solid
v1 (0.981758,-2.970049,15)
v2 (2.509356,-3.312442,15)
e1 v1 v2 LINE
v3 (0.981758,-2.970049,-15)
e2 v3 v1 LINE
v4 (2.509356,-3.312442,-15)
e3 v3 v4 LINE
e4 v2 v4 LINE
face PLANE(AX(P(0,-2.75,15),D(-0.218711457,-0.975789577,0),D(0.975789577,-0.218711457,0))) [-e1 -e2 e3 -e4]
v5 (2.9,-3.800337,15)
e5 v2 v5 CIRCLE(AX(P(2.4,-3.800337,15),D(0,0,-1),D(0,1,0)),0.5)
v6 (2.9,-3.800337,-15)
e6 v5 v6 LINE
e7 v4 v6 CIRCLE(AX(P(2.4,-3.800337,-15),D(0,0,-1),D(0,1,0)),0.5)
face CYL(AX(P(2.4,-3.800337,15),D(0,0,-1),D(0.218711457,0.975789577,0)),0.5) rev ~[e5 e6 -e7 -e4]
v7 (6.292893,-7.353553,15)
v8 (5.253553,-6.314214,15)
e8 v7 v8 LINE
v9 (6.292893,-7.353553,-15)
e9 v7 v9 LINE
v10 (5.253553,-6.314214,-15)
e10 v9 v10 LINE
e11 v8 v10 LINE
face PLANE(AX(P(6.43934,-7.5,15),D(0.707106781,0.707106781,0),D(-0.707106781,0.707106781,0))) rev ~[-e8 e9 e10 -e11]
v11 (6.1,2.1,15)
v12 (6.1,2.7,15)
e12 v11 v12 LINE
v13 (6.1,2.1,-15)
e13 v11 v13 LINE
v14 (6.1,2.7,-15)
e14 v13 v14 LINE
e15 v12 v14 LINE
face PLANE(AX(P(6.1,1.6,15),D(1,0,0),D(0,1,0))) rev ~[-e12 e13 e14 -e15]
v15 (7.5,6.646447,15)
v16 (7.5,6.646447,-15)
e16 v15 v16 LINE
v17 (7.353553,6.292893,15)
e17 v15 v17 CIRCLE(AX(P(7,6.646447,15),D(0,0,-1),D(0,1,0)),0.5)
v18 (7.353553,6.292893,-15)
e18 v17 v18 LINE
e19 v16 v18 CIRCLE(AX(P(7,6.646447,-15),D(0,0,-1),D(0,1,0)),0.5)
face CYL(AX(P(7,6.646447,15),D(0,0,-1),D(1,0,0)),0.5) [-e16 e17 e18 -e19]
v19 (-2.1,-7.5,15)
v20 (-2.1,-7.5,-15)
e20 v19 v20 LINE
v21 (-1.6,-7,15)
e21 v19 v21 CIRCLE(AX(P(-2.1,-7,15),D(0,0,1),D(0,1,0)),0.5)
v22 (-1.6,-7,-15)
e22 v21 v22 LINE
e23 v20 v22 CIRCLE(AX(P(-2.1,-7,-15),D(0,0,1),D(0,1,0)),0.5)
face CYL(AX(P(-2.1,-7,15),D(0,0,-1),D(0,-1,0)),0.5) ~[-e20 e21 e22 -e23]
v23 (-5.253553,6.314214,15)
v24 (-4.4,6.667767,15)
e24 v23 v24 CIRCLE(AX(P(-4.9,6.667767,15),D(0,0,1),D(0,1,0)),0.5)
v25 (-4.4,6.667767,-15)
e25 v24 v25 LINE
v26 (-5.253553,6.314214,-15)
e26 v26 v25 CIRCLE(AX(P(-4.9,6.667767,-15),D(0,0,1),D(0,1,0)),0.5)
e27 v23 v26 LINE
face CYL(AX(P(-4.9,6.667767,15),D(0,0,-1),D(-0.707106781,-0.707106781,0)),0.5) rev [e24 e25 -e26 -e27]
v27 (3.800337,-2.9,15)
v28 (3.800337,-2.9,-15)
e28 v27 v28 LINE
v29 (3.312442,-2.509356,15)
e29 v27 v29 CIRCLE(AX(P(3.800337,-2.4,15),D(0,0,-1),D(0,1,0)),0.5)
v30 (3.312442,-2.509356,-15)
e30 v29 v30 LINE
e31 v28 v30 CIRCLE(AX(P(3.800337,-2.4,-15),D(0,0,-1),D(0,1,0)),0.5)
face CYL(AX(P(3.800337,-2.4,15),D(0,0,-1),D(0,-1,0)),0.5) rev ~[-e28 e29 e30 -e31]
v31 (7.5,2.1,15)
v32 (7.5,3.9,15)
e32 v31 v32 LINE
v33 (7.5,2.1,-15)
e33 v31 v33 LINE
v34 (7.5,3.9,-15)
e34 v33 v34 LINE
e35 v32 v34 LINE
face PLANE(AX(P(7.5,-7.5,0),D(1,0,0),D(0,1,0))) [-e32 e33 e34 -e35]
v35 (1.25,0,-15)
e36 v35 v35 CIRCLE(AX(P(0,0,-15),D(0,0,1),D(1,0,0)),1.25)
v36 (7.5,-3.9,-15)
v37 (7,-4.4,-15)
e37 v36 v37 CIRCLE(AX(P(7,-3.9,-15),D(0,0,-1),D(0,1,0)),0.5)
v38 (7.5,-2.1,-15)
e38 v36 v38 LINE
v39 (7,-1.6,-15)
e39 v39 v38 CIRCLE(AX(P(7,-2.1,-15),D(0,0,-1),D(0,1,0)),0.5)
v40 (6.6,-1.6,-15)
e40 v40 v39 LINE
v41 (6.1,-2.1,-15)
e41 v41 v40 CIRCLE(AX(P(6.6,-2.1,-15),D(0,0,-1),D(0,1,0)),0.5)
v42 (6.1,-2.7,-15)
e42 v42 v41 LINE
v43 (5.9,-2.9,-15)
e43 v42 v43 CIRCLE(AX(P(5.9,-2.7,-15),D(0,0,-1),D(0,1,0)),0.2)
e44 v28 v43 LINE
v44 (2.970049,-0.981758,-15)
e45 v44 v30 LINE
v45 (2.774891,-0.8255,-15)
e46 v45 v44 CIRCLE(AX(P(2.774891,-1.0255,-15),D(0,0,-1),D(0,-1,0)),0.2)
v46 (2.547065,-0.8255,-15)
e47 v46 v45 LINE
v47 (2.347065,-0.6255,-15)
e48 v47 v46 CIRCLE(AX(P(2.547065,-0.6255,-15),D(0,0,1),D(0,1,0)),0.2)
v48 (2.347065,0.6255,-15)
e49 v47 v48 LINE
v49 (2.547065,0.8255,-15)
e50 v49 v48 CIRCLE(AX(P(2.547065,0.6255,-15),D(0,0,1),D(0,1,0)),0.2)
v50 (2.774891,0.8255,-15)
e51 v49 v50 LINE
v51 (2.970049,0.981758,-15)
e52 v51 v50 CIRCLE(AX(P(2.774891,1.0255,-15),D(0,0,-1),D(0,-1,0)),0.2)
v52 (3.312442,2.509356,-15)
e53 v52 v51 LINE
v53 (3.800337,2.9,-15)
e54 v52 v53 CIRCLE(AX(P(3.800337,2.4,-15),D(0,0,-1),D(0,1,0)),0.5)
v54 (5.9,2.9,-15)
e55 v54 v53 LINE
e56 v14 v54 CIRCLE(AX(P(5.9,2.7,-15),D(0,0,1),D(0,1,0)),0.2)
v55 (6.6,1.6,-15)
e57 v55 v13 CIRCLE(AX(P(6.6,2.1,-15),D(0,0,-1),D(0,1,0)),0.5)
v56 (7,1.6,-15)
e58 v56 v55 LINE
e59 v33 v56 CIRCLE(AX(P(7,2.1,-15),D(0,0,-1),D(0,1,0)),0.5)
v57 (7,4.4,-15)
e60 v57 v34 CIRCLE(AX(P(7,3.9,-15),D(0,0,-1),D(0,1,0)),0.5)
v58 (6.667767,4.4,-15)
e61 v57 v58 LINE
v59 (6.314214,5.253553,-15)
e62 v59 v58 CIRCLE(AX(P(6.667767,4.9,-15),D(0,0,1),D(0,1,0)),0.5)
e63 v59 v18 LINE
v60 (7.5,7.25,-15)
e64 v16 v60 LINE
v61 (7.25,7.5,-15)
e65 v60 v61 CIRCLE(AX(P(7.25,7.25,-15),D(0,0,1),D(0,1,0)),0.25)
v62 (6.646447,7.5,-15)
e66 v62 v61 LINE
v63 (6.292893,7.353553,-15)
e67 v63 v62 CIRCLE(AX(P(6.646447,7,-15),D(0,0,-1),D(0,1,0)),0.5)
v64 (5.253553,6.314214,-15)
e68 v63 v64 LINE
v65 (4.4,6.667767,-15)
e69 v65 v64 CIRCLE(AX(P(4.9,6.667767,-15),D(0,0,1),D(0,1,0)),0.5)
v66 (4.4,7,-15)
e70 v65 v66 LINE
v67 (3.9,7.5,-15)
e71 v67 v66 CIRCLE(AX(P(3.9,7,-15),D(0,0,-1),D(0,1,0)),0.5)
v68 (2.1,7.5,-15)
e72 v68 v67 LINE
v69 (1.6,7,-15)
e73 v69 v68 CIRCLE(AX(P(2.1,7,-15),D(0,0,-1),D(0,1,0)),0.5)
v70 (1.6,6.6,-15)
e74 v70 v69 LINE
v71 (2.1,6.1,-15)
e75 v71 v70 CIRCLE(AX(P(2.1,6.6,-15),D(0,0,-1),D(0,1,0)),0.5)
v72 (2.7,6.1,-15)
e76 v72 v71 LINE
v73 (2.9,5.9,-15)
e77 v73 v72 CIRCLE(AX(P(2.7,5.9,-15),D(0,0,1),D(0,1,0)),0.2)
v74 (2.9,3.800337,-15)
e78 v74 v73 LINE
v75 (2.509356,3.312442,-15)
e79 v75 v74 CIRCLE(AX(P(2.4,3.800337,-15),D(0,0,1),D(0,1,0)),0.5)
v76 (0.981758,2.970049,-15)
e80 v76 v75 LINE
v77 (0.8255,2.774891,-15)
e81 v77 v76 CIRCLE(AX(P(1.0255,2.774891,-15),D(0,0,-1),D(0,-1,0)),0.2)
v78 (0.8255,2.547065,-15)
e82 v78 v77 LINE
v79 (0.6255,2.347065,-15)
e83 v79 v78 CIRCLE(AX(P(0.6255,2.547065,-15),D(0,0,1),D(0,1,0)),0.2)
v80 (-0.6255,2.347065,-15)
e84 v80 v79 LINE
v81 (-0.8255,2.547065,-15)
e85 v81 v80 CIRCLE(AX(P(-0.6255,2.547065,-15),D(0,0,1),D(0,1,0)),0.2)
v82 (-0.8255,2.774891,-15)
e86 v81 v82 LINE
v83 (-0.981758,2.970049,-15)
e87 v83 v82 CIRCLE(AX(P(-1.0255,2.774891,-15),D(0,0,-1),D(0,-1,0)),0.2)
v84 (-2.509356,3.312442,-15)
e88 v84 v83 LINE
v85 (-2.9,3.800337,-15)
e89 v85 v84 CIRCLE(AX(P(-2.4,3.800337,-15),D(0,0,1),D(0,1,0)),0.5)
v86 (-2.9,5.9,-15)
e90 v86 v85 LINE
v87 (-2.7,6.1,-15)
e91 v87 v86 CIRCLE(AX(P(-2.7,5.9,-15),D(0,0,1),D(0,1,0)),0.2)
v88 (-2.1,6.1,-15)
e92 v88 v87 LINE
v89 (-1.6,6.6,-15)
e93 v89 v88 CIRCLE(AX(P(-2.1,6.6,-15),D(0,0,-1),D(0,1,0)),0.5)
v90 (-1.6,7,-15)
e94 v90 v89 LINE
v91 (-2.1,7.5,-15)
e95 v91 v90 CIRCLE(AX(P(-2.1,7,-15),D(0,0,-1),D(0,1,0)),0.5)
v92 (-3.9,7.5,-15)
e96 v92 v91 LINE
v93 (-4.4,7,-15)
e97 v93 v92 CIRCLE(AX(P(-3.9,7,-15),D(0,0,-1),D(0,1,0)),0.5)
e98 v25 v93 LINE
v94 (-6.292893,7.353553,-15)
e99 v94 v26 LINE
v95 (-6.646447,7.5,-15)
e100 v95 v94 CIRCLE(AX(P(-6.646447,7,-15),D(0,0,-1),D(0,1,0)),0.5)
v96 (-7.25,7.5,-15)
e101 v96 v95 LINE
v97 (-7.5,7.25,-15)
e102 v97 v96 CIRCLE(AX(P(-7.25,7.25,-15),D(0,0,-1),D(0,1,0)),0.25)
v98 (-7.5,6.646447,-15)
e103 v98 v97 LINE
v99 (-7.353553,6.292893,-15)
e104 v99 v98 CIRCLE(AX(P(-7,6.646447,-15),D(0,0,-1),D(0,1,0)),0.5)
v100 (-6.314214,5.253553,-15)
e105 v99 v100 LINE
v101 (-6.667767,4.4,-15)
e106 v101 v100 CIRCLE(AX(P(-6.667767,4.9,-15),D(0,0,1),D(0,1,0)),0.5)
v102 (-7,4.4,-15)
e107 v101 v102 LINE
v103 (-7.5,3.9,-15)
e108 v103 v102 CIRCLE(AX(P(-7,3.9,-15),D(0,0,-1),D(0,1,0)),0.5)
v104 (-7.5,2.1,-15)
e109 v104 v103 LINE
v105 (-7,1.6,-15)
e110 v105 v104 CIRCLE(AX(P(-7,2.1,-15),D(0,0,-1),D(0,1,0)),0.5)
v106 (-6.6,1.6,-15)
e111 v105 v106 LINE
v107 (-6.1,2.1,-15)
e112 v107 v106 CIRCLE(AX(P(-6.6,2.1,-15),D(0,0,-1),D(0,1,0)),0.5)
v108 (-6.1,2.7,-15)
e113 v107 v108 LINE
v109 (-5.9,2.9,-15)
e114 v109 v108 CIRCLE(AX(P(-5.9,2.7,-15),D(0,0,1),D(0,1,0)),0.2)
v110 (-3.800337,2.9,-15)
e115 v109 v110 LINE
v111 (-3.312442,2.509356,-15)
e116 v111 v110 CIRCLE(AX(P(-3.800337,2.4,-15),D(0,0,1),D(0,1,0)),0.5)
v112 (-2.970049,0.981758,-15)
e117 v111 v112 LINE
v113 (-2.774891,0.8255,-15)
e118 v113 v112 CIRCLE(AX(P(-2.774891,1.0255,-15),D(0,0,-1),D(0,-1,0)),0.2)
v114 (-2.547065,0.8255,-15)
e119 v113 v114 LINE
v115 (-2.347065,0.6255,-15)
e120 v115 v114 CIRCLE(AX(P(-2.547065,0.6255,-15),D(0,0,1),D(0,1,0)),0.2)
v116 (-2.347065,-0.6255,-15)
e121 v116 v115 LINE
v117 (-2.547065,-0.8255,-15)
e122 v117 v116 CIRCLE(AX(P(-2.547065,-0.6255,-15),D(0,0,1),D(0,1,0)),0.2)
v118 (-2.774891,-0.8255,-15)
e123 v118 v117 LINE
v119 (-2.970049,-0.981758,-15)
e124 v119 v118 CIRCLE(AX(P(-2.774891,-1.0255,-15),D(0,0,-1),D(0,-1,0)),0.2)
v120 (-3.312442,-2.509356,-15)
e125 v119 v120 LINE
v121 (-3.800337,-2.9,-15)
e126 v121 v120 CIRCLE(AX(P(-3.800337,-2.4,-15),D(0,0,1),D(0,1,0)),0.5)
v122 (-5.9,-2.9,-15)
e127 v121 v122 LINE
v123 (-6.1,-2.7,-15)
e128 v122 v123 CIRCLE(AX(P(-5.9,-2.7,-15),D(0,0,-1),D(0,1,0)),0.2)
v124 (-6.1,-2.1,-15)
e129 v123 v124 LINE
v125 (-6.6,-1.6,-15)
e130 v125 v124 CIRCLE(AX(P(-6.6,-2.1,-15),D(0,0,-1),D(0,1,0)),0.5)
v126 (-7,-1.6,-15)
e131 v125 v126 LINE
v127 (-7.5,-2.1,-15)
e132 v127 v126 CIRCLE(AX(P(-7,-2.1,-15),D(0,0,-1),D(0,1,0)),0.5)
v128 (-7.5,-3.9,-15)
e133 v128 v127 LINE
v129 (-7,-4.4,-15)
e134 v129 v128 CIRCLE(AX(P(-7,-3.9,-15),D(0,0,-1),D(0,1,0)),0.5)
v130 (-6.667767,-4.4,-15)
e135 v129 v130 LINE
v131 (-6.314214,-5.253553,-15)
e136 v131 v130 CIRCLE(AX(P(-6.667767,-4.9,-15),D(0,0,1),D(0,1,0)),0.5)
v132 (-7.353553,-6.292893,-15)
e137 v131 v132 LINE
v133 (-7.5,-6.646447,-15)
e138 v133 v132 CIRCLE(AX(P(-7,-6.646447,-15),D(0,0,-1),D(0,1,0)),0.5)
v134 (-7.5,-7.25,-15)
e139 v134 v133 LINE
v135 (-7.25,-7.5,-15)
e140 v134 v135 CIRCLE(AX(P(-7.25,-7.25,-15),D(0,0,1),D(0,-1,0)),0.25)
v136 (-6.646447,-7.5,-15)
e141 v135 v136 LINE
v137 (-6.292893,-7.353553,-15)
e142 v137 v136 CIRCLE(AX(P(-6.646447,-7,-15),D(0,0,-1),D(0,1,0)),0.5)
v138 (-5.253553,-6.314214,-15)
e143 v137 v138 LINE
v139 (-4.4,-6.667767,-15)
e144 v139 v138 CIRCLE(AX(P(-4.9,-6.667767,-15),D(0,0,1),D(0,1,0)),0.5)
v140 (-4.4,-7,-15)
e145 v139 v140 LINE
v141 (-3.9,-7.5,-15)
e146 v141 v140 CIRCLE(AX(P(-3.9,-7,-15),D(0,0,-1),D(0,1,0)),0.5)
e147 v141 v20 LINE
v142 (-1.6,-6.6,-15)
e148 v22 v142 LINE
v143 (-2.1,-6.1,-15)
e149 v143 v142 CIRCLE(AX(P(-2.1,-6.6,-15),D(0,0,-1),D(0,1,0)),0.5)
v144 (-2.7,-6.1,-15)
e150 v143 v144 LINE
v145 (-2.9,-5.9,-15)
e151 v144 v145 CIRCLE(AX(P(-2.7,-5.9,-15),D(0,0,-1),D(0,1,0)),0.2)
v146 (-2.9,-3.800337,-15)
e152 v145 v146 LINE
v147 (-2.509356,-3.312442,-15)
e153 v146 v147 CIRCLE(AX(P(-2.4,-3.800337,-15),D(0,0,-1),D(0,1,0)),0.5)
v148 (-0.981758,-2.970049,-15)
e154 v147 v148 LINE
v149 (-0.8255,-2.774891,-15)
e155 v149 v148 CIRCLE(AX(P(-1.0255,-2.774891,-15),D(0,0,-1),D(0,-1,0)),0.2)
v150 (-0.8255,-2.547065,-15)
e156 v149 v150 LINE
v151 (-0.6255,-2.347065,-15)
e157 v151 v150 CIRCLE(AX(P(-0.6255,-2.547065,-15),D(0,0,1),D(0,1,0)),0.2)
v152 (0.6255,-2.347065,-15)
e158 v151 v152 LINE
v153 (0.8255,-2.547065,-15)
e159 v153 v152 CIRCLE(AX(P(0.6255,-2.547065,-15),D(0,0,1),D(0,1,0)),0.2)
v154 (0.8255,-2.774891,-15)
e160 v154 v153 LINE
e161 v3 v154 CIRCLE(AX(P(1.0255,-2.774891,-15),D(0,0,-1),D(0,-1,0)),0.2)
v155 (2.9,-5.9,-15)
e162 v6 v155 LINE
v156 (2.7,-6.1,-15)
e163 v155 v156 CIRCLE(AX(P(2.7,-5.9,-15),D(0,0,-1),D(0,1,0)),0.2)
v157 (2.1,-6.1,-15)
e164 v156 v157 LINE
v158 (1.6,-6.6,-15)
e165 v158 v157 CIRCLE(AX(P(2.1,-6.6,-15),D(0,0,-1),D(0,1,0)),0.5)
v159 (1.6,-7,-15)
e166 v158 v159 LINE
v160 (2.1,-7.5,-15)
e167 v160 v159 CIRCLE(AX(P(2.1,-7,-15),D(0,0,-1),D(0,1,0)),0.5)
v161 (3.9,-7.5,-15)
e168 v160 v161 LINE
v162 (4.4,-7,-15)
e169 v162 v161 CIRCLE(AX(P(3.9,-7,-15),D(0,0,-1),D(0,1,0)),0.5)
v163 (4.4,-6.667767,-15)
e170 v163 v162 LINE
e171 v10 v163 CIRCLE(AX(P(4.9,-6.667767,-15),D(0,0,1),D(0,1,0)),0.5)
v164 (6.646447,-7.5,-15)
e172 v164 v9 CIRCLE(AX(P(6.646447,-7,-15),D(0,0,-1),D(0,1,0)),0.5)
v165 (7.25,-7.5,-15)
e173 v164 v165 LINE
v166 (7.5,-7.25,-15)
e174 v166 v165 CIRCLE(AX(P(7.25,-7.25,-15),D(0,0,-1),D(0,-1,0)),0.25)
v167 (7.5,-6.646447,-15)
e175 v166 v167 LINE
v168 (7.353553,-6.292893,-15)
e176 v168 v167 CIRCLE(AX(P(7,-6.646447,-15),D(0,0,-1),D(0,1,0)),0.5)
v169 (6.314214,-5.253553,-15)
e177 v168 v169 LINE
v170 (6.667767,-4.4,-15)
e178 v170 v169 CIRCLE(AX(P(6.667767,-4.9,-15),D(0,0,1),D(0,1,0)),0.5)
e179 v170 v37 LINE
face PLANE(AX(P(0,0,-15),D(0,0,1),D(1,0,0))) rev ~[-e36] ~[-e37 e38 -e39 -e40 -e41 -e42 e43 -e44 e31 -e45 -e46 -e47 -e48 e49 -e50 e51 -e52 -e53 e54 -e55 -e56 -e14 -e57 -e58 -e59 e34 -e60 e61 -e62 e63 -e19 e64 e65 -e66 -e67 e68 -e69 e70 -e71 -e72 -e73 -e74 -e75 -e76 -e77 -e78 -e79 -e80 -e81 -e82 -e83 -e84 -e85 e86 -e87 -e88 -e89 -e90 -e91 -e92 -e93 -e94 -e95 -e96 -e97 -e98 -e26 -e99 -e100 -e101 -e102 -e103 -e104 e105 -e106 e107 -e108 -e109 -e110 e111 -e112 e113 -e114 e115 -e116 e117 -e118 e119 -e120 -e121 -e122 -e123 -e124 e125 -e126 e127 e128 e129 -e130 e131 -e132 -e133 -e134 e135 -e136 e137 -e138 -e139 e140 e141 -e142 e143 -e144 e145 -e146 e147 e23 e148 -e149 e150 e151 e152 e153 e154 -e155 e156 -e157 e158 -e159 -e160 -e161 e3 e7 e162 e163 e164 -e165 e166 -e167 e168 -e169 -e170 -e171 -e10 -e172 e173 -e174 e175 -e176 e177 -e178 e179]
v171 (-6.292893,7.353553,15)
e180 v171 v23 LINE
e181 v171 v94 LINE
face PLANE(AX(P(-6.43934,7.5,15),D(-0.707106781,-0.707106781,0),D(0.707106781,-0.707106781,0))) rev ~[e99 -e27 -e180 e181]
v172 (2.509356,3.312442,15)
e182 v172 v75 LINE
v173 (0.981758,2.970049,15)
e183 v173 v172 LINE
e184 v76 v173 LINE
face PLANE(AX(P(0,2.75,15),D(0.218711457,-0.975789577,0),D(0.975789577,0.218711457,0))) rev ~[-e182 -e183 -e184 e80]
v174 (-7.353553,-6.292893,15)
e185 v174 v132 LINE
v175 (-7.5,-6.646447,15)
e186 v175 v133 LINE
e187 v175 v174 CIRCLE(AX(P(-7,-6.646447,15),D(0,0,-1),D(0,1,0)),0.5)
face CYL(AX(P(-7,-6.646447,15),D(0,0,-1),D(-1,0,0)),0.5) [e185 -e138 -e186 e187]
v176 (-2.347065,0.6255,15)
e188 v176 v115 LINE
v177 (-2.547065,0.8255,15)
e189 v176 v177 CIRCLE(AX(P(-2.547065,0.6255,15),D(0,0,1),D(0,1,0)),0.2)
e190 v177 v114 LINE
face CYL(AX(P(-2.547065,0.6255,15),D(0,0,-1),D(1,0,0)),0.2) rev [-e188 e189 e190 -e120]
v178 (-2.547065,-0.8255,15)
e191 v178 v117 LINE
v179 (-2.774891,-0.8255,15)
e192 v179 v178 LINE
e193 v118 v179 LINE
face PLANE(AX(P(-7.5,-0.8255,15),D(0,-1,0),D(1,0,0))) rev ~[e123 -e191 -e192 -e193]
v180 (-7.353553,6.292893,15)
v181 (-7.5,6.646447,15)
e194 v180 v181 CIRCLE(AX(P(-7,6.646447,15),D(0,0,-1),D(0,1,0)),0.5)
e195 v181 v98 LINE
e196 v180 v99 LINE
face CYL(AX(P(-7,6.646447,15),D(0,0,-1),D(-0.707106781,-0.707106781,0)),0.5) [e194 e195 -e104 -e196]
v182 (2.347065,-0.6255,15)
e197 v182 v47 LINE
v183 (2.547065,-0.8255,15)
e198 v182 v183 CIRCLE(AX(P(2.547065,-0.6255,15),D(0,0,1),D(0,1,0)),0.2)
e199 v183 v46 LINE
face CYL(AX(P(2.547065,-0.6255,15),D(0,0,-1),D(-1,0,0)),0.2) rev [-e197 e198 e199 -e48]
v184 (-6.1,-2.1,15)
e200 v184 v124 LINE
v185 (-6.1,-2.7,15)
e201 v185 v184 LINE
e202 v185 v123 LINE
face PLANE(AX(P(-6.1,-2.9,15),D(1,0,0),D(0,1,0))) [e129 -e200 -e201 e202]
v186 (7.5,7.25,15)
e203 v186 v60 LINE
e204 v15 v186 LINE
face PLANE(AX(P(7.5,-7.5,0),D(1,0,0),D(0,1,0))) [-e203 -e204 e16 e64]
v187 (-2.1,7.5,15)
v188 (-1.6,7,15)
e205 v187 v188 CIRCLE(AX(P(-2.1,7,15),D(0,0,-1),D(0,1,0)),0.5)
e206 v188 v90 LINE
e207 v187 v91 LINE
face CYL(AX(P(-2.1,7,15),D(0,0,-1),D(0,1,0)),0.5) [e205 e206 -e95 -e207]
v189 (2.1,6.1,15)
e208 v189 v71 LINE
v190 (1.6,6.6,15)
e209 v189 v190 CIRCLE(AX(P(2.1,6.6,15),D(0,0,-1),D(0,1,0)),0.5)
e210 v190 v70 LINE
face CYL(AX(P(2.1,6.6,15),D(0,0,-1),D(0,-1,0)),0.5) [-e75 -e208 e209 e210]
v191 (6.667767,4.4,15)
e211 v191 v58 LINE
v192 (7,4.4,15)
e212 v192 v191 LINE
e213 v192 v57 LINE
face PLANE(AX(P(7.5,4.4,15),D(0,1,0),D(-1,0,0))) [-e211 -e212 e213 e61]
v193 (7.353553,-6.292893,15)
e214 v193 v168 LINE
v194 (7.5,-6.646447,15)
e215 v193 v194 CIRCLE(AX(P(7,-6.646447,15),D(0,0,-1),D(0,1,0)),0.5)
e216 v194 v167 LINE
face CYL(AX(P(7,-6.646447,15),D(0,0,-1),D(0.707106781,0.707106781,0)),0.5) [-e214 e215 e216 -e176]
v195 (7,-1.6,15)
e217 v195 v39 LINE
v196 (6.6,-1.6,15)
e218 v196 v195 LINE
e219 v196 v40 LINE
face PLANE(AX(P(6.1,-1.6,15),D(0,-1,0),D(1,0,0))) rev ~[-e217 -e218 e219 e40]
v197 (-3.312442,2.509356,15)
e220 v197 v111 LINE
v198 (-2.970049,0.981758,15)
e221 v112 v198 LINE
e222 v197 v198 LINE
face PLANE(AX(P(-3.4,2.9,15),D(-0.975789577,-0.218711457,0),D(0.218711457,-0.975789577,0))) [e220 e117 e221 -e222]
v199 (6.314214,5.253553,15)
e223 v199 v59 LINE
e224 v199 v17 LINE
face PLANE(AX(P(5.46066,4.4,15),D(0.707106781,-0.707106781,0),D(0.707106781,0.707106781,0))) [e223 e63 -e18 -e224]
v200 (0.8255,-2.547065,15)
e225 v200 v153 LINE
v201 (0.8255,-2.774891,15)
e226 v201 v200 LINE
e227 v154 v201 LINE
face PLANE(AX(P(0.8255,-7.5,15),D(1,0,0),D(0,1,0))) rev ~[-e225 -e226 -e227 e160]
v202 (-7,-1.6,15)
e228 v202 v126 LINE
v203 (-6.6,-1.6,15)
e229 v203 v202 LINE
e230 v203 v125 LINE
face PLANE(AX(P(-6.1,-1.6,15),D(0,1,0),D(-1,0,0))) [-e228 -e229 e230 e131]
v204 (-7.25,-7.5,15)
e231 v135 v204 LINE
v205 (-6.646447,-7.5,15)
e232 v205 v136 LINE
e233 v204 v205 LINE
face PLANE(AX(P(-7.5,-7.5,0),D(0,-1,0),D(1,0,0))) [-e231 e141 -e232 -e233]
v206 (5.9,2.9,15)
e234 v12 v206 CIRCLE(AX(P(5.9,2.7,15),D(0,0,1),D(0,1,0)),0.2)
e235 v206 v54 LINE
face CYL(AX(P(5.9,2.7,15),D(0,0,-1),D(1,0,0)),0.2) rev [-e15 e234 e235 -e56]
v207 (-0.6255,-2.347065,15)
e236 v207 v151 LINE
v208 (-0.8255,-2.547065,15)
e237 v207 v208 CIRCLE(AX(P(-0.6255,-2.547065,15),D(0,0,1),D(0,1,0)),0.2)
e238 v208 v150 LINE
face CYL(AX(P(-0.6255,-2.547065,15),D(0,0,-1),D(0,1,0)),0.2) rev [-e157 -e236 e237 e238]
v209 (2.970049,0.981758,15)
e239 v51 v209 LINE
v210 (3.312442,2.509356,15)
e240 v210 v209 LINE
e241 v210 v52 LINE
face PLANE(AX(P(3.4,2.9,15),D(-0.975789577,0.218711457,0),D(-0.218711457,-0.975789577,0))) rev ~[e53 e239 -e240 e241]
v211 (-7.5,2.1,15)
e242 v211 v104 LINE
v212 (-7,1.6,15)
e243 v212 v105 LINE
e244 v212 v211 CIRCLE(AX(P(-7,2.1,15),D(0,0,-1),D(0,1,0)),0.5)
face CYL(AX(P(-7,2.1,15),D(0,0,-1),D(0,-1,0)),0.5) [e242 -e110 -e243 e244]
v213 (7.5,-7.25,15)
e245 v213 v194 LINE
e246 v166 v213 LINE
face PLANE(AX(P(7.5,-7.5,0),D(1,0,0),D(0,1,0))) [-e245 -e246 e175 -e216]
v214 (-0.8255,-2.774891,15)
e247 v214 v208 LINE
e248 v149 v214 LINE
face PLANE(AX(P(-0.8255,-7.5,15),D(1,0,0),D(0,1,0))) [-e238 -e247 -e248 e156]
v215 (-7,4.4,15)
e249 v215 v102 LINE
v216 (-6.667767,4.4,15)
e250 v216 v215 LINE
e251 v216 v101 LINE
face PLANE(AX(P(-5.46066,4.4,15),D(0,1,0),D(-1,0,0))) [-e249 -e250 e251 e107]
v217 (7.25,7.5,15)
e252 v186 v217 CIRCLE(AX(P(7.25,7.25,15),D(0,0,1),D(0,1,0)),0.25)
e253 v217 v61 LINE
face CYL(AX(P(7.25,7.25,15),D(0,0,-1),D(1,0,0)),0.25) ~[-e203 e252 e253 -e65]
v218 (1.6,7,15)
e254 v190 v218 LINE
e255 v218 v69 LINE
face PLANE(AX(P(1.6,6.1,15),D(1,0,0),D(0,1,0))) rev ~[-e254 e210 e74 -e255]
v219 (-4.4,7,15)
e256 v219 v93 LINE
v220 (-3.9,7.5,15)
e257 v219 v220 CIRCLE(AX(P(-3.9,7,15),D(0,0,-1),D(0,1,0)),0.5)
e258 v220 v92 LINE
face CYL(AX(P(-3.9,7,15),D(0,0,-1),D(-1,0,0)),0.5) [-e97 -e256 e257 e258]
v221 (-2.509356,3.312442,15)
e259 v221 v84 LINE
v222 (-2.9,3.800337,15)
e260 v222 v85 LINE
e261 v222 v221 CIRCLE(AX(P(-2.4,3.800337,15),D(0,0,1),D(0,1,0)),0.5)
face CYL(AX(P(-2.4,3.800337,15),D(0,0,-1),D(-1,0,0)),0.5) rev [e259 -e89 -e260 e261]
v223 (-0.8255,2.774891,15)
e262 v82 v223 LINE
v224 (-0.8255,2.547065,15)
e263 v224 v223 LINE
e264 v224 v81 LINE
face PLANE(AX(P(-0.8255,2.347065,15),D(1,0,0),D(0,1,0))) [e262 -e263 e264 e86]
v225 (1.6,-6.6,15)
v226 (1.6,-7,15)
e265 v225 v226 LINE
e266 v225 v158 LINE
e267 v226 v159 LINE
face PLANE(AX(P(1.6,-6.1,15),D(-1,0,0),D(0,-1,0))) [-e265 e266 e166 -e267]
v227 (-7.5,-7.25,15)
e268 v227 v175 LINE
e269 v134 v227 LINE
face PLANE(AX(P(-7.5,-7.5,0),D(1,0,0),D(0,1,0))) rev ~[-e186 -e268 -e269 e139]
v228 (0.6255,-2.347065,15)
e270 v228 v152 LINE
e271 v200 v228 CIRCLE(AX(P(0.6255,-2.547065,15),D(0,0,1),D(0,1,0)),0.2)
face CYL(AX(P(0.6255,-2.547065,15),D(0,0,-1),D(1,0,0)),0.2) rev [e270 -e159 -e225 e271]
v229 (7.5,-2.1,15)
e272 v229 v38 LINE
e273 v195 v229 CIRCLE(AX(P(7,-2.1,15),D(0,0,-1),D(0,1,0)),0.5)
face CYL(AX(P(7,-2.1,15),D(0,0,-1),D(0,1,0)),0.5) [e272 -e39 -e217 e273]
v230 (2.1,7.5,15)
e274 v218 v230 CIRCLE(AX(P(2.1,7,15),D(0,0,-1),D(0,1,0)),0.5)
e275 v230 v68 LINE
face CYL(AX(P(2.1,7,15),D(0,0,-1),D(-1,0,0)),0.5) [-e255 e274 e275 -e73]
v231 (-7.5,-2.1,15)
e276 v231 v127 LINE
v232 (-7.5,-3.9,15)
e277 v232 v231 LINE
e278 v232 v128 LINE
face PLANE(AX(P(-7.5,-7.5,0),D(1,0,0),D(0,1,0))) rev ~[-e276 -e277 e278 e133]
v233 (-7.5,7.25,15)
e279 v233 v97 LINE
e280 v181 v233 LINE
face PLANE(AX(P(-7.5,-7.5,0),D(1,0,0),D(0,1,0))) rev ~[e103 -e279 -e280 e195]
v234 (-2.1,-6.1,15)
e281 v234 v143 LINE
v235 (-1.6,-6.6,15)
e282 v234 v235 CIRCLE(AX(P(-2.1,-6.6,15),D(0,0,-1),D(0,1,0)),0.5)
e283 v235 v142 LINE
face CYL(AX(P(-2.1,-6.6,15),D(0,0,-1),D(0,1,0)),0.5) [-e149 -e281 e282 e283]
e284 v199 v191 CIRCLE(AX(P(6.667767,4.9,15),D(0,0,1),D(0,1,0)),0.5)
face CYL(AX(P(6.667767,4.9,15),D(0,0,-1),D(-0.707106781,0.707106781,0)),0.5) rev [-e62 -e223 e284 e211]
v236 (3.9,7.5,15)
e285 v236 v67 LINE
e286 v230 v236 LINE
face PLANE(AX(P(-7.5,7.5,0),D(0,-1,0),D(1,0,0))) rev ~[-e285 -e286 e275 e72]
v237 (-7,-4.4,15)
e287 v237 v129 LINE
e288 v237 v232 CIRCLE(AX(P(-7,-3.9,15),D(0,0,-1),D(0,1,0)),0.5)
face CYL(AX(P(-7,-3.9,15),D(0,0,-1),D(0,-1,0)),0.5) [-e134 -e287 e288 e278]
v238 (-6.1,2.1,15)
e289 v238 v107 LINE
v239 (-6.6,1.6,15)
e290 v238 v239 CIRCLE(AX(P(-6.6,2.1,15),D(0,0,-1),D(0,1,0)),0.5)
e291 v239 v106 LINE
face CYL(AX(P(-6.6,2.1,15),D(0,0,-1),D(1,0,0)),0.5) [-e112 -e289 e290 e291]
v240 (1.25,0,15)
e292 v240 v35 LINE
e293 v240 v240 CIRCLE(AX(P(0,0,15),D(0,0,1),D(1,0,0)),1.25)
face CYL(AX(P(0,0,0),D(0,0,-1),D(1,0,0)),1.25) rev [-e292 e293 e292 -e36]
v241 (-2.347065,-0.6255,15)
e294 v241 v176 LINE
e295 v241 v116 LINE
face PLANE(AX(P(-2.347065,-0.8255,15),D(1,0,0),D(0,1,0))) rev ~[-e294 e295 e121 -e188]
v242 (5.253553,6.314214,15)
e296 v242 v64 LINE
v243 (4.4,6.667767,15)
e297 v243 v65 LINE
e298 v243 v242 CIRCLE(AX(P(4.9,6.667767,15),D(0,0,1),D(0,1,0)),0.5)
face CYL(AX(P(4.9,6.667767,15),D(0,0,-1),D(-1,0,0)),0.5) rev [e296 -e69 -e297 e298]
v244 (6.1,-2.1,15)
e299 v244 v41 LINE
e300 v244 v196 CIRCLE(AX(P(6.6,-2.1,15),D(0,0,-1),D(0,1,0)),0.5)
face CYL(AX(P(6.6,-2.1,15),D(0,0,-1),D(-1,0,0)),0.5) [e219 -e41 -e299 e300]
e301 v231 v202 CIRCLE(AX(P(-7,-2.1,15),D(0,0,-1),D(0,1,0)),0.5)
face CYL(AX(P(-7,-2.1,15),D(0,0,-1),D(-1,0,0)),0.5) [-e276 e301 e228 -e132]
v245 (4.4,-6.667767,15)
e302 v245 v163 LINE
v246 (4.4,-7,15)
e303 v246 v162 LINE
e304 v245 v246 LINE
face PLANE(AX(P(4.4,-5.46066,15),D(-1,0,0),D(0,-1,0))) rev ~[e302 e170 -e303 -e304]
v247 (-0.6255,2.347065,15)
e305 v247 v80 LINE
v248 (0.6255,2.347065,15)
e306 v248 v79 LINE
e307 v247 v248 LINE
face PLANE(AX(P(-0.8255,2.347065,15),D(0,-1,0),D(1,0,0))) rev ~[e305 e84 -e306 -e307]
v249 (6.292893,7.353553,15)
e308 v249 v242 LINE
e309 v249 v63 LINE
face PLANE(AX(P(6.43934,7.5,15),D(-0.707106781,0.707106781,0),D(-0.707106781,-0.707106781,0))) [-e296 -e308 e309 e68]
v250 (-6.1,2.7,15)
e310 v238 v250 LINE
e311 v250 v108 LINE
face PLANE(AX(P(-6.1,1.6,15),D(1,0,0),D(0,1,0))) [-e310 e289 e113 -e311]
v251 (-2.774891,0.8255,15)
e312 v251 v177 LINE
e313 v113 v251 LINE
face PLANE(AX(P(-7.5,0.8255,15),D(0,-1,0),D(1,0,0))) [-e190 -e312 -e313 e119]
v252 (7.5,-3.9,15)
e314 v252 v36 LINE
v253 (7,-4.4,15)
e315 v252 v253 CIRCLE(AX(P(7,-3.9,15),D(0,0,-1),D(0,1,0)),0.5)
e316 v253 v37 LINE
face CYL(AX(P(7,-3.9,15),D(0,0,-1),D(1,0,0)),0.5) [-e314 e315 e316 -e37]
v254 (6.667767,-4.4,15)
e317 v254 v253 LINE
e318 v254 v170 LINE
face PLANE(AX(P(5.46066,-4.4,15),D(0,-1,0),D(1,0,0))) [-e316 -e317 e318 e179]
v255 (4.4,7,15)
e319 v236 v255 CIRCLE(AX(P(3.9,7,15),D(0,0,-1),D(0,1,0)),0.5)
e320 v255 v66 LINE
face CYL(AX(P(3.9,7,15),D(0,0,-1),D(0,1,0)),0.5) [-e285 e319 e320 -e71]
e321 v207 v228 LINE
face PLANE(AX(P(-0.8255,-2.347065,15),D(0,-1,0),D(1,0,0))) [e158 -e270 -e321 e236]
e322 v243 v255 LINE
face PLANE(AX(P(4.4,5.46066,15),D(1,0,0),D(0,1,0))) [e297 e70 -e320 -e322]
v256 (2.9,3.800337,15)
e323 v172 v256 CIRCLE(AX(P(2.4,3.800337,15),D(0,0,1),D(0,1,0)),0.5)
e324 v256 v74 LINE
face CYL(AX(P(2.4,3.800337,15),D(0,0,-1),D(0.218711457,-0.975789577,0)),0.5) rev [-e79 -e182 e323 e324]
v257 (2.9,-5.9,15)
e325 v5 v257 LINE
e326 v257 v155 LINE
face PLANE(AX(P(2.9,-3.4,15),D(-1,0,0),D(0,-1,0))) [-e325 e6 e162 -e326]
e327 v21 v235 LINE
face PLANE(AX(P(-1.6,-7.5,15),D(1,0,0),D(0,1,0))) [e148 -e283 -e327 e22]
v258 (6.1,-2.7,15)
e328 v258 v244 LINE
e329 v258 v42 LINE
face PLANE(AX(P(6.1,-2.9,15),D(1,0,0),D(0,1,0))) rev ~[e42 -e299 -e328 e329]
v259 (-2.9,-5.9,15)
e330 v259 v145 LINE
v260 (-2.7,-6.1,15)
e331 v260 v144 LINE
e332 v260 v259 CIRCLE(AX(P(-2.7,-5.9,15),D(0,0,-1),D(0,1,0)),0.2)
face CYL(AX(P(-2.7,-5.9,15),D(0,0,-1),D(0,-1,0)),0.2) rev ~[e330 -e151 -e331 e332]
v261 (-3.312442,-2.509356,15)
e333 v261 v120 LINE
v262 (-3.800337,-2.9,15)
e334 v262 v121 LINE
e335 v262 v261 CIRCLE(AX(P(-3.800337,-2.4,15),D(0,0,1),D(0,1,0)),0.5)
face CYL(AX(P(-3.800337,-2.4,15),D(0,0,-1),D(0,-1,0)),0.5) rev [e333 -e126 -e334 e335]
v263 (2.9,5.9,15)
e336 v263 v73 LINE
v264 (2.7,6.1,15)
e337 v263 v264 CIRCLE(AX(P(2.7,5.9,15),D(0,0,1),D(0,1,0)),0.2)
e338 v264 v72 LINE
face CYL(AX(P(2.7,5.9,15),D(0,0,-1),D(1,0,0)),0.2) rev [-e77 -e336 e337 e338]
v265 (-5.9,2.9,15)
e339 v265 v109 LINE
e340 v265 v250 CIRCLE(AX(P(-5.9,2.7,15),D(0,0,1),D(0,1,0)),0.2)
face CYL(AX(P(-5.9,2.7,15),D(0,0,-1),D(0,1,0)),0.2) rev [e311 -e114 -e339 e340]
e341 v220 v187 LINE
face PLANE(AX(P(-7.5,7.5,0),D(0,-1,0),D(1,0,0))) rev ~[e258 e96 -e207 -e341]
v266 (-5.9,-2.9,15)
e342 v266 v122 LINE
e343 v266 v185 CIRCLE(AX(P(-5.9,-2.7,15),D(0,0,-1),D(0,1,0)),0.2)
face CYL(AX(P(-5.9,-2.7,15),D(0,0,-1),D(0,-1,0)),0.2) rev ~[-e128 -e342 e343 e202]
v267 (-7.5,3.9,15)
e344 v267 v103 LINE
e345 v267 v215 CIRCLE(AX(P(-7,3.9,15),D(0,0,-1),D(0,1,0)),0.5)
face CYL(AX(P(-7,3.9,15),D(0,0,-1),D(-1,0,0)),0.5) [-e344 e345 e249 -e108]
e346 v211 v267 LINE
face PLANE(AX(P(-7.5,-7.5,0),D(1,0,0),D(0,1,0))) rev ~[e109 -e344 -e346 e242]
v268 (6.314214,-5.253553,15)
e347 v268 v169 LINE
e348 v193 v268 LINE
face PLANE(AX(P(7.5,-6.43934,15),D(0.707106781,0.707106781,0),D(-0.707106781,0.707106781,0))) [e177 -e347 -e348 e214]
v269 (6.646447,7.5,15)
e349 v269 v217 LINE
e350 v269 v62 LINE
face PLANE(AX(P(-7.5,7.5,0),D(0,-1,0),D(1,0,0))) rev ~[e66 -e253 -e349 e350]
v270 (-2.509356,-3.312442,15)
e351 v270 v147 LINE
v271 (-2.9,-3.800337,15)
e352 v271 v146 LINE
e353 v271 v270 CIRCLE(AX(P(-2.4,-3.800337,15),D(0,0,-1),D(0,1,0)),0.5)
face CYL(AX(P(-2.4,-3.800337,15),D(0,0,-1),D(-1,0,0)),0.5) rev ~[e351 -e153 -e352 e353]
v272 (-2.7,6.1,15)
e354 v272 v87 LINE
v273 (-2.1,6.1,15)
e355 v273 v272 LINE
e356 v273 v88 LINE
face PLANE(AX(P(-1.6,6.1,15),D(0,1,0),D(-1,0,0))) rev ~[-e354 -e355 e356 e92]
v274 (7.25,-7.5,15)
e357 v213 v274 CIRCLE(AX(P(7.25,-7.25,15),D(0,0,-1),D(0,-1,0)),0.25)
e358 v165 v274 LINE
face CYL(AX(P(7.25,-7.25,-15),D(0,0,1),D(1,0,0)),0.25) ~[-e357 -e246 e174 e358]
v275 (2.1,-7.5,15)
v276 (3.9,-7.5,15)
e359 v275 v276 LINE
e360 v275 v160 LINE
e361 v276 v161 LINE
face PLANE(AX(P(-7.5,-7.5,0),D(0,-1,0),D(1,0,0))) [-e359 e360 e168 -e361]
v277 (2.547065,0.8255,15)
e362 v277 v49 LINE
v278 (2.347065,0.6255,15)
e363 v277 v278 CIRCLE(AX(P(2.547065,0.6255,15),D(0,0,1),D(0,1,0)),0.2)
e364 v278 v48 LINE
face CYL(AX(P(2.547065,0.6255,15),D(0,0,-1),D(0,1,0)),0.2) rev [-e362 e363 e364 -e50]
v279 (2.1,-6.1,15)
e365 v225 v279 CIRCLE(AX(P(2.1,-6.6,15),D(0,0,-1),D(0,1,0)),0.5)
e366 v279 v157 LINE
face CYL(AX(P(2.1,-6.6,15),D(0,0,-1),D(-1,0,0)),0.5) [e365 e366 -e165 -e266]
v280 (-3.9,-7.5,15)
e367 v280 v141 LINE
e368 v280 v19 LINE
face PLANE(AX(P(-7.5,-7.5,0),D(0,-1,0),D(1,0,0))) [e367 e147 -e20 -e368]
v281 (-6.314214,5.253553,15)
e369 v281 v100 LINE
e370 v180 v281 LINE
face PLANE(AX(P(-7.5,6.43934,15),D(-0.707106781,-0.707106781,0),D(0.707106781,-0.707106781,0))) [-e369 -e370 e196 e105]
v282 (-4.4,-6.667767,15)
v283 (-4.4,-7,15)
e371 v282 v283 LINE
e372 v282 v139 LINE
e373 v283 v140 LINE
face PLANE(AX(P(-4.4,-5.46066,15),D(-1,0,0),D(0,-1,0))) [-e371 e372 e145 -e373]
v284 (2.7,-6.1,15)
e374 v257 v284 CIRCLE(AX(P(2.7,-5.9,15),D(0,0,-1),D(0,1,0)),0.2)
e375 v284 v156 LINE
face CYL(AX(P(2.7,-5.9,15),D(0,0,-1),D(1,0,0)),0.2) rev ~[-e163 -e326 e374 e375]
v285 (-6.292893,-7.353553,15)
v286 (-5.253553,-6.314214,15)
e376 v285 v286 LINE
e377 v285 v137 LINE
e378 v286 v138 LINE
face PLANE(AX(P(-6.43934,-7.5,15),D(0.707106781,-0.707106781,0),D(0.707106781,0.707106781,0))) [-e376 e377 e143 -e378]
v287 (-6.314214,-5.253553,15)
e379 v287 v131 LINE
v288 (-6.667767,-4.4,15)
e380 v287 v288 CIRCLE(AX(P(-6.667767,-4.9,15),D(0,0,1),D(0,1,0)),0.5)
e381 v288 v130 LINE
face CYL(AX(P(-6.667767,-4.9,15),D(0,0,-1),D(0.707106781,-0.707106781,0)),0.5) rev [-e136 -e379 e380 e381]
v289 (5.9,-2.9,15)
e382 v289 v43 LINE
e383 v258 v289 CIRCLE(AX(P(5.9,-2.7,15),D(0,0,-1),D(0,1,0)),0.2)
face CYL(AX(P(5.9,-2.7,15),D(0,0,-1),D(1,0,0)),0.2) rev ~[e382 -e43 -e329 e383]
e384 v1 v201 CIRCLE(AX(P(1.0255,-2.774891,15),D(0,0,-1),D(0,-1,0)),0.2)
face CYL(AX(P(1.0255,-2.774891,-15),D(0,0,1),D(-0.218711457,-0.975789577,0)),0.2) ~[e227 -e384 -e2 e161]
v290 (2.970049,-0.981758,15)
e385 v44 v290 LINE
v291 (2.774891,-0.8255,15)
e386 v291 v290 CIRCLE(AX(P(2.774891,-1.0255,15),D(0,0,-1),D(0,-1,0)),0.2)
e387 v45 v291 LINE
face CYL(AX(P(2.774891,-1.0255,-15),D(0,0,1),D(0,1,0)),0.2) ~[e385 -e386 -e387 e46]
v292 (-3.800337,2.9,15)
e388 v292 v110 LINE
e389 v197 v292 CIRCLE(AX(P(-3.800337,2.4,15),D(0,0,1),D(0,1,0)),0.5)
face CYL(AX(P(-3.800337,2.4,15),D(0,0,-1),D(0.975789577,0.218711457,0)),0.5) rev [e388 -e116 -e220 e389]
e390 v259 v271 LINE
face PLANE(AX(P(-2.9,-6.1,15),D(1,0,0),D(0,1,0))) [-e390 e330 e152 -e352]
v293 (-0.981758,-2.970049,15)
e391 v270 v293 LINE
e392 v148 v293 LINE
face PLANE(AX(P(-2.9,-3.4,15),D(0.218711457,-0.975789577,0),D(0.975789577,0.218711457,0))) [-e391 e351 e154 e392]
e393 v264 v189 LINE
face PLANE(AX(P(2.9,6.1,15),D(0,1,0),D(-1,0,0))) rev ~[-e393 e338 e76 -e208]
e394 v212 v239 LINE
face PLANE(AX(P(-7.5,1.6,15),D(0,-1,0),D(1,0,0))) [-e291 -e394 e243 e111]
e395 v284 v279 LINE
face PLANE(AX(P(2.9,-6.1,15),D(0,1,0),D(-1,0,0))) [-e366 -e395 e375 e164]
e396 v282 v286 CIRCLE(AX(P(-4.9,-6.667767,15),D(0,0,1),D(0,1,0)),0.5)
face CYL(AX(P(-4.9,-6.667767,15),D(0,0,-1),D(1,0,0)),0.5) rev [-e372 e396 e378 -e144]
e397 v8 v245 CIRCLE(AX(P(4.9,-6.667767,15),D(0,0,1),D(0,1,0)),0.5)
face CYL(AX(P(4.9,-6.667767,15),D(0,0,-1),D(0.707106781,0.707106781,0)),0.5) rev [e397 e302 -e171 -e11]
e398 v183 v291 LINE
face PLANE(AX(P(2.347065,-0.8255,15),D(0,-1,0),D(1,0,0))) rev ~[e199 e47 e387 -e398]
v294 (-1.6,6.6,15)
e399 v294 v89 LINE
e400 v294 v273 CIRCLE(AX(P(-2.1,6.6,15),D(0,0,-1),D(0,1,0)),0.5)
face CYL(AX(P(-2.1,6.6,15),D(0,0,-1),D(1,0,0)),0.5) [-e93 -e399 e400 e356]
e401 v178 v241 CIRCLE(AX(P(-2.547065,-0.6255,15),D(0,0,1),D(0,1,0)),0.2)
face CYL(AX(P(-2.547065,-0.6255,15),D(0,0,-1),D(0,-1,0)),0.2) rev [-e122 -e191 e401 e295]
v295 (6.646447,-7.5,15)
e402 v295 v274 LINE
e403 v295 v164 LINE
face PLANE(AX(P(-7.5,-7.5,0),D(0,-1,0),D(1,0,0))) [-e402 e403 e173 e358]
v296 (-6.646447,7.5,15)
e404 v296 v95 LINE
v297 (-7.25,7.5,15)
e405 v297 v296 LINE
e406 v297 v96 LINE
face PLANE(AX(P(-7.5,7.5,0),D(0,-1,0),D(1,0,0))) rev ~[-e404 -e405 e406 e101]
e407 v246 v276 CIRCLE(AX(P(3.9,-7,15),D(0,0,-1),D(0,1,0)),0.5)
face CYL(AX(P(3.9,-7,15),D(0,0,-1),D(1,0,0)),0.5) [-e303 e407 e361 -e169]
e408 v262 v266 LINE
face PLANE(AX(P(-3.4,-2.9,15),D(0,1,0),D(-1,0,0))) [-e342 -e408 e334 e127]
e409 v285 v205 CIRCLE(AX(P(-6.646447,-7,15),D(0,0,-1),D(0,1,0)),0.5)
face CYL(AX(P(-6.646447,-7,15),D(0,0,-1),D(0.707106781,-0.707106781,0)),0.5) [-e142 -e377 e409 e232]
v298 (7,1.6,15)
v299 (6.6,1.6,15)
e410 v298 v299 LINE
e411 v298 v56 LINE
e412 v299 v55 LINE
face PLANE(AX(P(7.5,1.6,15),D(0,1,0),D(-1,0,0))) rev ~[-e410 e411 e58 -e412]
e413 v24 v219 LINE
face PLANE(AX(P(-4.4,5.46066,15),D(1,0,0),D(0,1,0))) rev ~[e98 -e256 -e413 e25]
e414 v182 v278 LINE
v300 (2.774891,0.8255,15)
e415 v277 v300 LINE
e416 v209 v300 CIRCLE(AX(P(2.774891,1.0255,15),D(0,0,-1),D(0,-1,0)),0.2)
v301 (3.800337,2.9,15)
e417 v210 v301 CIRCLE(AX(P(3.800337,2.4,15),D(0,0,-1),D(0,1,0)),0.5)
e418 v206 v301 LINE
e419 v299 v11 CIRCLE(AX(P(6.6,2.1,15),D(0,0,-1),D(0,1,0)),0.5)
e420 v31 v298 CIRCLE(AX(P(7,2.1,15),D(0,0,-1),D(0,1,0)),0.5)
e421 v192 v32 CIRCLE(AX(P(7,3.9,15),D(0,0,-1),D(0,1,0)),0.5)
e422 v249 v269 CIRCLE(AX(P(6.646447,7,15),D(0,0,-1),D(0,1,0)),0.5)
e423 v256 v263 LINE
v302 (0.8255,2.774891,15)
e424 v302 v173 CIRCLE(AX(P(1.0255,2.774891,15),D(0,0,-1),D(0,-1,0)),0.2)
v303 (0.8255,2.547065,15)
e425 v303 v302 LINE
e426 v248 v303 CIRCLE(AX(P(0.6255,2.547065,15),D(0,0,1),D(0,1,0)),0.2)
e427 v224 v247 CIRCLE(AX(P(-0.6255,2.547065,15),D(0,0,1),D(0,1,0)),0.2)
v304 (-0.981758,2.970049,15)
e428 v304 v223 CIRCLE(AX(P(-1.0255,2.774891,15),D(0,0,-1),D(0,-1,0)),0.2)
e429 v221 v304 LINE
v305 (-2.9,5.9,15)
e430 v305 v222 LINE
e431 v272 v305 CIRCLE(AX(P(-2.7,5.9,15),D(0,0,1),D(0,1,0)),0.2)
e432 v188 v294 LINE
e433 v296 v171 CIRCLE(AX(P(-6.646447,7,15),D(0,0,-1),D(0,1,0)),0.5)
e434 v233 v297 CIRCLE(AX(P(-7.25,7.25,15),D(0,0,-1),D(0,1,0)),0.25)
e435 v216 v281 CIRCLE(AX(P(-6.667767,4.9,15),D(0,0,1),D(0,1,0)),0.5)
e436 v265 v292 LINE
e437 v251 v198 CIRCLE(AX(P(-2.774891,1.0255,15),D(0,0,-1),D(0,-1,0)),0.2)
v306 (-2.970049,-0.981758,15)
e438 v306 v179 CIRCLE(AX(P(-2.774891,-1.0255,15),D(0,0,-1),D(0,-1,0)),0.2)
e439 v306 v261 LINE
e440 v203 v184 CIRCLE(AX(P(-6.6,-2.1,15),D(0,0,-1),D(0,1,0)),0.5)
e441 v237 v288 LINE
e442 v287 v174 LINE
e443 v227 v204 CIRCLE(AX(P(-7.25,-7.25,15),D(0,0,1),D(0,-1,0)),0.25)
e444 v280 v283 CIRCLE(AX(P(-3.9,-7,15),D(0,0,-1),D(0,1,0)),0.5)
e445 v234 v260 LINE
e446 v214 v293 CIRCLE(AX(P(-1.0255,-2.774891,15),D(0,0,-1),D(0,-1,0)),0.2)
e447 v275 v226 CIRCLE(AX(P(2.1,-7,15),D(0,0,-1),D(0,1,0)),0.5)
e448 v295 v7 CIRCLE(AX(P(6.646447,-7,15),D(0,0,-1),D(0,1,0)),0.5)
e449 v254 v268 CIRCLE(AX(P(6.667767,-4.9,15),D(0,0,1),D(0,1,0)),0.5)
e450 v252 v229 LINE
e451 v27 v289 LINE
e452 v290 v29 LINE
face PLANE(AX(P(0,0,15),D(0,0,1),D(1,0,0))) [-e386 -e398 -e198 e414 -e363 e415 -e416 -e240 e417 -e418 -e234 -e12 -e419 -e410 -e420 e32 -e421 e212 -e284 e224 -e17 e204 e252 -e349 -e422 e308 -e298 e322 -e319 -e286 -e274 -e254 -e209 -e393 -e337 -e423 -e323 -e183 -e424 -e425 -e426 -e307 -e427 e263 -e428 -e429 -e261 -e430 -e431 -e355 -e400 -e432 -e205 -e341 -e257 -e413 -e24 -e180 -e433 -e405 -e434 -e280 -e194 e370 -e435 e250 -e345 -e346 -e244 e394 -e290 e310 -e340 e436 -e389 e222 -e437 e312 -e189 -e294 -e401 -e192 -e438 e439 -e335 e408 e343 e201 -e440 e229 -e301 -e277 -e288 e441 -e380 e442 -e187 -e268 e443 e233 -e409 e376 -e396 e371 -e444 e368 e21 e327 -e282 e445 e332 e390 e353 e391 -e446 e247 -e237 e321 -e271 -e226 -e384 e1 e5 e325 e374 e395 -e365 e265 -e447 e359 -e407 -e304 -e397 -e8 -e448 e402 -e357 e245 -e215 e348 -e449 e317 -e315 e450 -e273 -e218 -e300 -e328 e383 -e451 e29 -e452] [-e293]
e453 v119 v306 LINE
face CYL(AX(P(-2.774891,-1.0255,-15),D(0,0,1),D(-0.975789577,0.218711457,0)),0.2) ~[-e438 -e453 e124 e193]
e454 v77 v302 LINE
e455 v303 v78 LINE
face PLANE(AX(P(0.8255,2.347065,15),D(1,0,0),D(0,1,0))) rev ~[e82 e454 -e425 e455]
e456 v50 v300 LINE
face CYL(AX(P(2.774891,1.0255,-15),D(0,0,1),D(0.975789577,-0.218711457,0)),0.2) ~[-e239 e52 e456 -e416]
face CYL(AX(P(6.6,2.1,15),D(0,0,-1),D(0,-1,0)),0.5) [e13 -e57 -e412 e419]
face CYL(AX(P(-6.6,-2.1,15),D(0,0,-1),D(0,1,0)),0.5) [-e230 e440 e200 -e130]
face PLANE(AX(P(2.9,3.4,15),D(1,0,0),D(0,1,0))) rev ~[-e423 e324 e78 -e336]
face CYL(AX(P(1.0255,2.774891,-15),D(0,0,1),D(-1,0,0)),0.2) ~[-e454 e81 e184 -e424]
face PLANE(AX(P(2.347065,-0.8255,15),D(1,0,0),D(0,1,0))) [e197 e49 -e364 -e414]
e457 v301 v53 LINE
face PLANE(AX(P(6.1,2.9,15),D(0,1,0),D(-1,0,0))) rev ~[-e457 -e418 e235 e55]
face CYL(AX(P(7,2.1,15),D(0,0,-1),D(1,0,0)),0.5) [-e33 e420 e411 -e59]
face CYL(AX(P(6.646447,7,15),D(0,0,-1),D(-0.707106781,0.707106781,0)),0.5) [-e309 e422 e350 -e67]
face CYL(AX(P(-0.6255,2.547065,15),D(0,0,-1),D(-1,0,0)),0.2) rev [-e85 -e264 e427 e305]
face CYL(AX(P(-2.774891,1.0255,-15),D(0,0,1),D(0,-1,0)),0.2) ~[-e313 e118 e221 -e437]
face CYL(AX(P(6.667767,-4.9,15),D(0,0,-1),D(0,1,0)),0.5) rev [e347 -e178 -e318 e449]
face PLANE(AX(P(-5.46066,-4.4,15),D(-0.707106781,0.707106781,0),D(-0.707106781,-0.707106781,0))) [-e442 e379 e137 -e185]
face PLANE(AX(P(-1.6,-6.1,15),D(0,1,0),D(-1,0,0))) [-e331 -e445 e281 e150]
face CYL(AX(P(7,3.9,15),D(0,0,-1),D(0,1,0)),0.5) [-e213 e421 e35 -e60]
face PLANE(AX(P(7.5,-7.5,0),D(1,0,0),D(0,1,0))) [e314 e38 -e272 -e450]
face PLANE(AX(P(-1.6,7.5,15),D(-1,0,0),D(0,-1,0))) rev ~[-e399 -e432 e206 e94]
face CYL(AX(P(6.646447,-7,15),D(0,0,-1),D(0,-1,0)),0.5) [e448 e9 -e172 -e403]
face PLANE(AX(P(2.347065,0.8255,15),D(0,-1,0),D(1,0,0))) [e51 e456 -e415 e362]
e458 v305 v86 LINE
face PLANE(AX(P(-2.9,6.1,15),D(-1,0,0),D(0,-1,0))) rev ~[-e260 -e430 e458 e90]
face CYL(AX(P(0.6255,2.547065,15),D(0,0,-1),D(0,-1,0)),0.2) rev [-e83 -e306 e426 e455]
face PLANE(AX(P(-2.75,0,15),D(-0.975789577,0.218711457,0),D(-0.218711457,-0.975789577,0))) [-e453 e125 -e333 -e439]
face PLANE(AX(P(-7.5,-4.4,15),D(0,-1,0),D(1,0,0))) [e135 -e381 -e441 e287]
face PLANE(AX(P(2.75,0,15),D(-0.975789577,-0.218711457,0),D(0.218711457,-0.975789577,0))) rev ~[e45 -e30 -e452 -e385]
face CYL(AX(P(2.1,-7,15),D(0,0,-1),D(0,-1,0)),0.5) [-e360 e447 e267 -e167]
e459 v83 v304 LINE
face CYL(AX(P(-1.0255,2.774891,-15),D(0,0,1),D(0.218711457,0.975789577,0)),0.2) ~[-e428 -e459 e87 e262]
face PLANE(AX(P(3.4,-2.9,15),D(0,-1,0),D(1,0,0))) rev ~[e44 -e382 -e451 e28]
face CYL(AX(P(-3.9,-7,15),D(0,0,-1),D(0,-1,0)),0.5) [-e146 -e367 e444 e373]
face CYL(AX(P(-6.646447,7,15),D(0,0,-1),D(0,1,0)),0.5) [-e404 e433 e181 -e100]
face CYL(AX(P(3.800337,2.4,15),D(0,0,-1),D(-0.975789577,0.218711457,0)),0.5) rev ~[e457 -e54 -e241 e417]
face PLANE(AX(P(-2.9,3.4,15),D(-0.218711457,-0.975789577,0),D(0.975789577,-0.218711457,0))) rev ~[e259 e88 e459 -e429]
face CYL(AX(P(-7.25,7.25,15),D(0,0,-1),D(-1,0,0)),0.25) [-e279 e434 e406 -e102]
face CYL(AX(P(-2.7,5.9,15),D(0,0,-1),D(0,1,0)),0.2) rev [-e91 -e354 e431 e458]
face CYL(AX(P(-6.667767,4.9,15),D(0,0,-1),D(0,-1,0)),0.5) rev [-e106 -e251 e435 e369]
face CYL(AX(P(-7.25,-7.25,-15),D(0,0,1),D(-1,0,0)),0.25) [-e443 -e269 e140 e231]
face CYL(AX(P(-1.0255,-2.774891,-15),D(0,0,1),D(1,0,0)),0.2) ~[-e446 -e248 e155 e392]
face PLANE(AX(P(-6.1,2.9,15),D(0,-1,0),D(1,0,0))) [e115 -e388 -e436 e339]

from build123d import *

# Parameters (mm, degrees)
SKETCH1_W           = 15
SKETCH1_H           = 15
SKETCH1_R           = 1.25
BOSS_EXTRUDE1_DEPTH = 15
FILLET1_R           = 0.25
CUT_EXTRUDE1_DEPTH  = 32.819805153
CUT_EXTRUDE3_DEPTH  = 32.819805153
FILLET3_R           = 0.5
FILLET4_R           = 0.5
FILLET5_R           = 3
FILLET6_R           = 0.2
CUT_EXTRUDE4_DEPTH  = 32.819805153
FILLET8_R           = 0.5
SKETCH6_W           = 5.1529354
SKETCH6_H           = 1.651
SKETCH6_W_2         = 1.651
SKETCH6_H_2         = 5.1529354
CUT_EXTRUDE5_DEPTH  = 32.819805153
FILLET10_R          = 0.2


with BuildPart() as part:
    # Sketch1 → Boss-Extrude1 (new, symmetric)
    with BuildSketch(Plane.XY):
        Rectangle(SKETCH1_W, SKETCH1_H)
        Circle(SKETCH1_R, mode=Mode.SUBTRACT)
    extrude(amount=BOSS_EXTRUDE1_DEPTH, both=True)

    # Fillet1
    fillet1_edges = [part.edges().sort_by_distance(p)[0] for p in [
        (7.5, -7.5, 0),
        (-7.5, -7.5, 0),
        (-7.5, 7.5, 0),
        (7.5, 7.5, 0),
    ]]
    fillet(fillet1_edges, radius=FILLET1_R)

    # Sketch2 → Cut-Extrude1 (cut, through all)
    with BuildSketch(Plane.XY.offset(15)):
        Polygon((-7.5, 1.6), (-6.1, 1.6), (-6.1, 2.9), (-3.4, 2.9), (-3.4, -2.9), (-6.1, -2.9), (-6.1, -1.6), (-7.5, -1.6), align=None)
        Polygon((2.9, 6.1), (1.6, 6.1), (1.6, 7.5), (-1.6, 7.5), (-1.6, 6.1), (-2.9, 6.1), (-2.9, 3.4), (2.9, 3.4), align=None)
        Polygon((-1.6, -7.5), (-1.6, -6.1), (-2.9, -6.1), (-2.9, -3.4), (2.9, -3.4), (2.9, -6.1), (1.6, -6.1), (1.6, -7.5), align=None)
        Polygon((6.1, -2.9), (6.1, -1.6), (7.5, -1.6), (7.5, 1.6), (6.1, 1.6), (6.1, 2.9), (3.4, 2.9), (3.4, -2.9), align=None)
    extrude(amount=-CUT_EXTRUDE1_DEPTH, mode=Mode.SUBTRACT)

    # Sketch4 → Cut-Extrude3 (cut, through all)
    with BuildSketch(Plane.XY.offset(15)):
        Polygon((-3.4, 2.9), (-2.75, 0), (-3.4, -2.9), align=None)
        Polygon((-2.9, 3.4), (0, 2.75), (2.9, 3.4), align=None)
        Polygon((3.4, 2.9), (2.75, 0), (3.4, -2.9), align=None)
        Polygon((-2.9, -3.4), (0, -2.75), (2.9, -3.4), align=None)
    extrude(amount=-CUT_EXTRUDE3_DEPTH, mode=Mode.SUBTRACT)

    # Fillet3
    fillet3_edges = [part.edges().sort_by_distance(p)[0] for p in [
        (1.6, -7.5, 0),
        (-1.6, -7.5, 0),
        (-1.6, -6.1, 0),
        (1.6, -6.1, 0),
        (6.1, 1.6, 0),
        (7.5, 1.6, 0),
        (7.5, -1.6, 0),
        (6.1, -1.6, 0),
        (-7.5, -1.6, 0),
        (-7.5, 1.6, 0),
        (-6.1, 1.6, 0),
        (-6.1, -1.6, 0),
        (-1.6, 6.1, 0),
        (-1.6, 7.5, 0),
        (1.6, 7.5, 0),
        (1.6, 6.1, 0),
    ]]
    fillet(fillet3_edges, radius=FILLET3_R)

    # Fillet4
    fillet4_edges = [part.edges().sort_by_distance(p)[0] for p in [
        (-2.9, -3.4, 0),
        (2.9, -3.4, 0),
        (3.4, -2.9, 0),
        (3.4, 2.9, 0),
        (-3.4, 2.9, 0),
        (-3.4, -2.9, 0),
        (2.9, 3.4, 0),
        (-2.9, 3.4, 0),
    ]]
    fillet(fillet4_edges, radius=FILLET4_R)

    # Fillet5
    fillet5_edges = [part.edges().sort_by_distance(p)[0] for p in [
        (-2.75, 0, 0),
        (0, 2.75, 0),
        (2.75, 0, 0),
        (0, -2.75, 0),
    ]]
    fillet(fillet5_edges, radius=FILLET5_R)

    # Fillet6
    fillet6_edges = [part.edges().sort_by_distance(p)[0] for p in [
        (-2.9, -6.1, 0),
        (2.9, -6.1, 0),
        (6.1, -2.9, 0),
        (6.1, 2.9, 0),
        (-6.1, 2.9, 0),
        (-6.1, -2.9, 0),
        (2.9, 6.1, 0),
        (-2.9, 6.1, 0),
    ]]
    fillet(fillet6_edges, radius=FILLET6_R)

    # Sketch5 → Cut-Extrude4 (cut, through all)
    with BuildSketch(Plane.XY.offset(15)):
        Polygon((-7.5, 6.439339828), (-5.460660172, 4.4), (-7.5, 4.4), align=None)
        Polygon((-6.439339828, 7.5), (-4.4, 5.460660172), (-4.4, 7.5), align=None)
        Polygon((4.4, 7.5), (6.439339828, 7.5), (4.4, 5.460660172), align=None)
        Polygon((7.5, 6.439339828), (7.5, 4.4), (5.460660172, 4.4), align=None)
        Polygon((7.5, -6.439339828), (5.460660172, -4.4), (7.5, -4.4), align=None)
        Polygon((6.439339828, -7.5), (4.4, -5.460660172), (4.4, -7.5), align=None)
        Polygon((-4.4, -7.5), (-6.439339828, -7.5), (-4.4, -5.460660172), align=None)
        Polygon((-7.5, -6.439339828), (-7.5, -4.4), (-5.460660172, -4.4), align=None)
    extrude(amount=-CUT_EXTRUDE4_DEPTH, mode=Mode.SUBTRACT)

    # Fillet8
    fillet8_edges = [part.edges().sort_by_distance(p)[0] for p in [
        (-7.5, 4.4, 0),
        (-7.5, 6.439339828, 0),
        (-5.460660172, 4.4, 0),
        (7.5, -4.4, 0),
        (7.5, -6.439339828, 0),
        (5.460660172, -4.4, 0),
        (5.460660172, 4.4, 0),
        (7.5, 6.439339828, 0),
        (7.5, 4.4, 0),
        (-4.4, 7.5, 0),
        (-4.4, 5.460660172, 0),
        (-6.439339828, 7.5, 0),
        (-5.460660172, -4.4, 0),
        (-7.5, -6.439339828, 0),
        (-7.5, -4.4, 0),
        (4.4, 5.460660172, 0),
        (4.4, 7.5, 0),
        (6.439339828, 7.5, 0),
        (6.439339828, -7.5, 0),
        (4.4, -7.5, 0),
        (4.4, -5.460660172, 0),
        (-6.439339828, -7.5, 0),
        (-4.4, -5.460660172, 0),
        (-4.4, -7.5, 0),
    ]]
    fillet(fillet8_edges, radius=FILLET8_R)

    # Sketch6 → Cut-Extrude5 (cut, through all)
    with BuildSketch(Plane.XY.offset(15)):
        with Locations((4.9235323, 0)):
            Rectangle(SKETCH6_W, SKETCH6_H)
        with Locations((0, -4.9235323)):
            Rectangle(SKETCH6_W_2, SKETCH6_H_2)
        with Locations((-4.9235323, 0)):
            Rectangle(SKETCH6_W, SKETCH6_H)
        with Locations((0, 4.9235323)):
            Rectangle(SKETCH6_W_2, SKETCH6_H_2)
    extrude(amount=-CUT_EXTRUDE5_DEPTH, mode=Mode.SUBTRACT)

    # Fillet10
    fillet10_edges = [part.edges().sort_by_distance(p)[0] for p in [
        (0.8255, -2.935025862, 0),
        (-0.8255, -2.935025862, 0),
        (0.8255, -2.3470646, 0),
        (-0.8255, -2.3470646, 0),
        (2.935025862, 0.8255, 0),
        (2.935025862, -0.8255, 0),
        (2.3470646, 0.8255, 0),
        (2.3470646, -0.8255, 0),
        (-2.935025862, -0.8255, 0),
        (-2.935025862, 0.8255, 0),
        (-2.3470646, -0.8255, 0),
        (-2.3470646, 0.8255, 0),
        (-0.8255, 2.935025862, 0),
        (0.8255, 2.935025862, 0),
        (-0.8255, 2.3470646, 0),
        (0.8255, 2.3470646, 0),
    ]]
    fillet(fillet10_edges, radius=FILLET10_R)


solid = part.part
